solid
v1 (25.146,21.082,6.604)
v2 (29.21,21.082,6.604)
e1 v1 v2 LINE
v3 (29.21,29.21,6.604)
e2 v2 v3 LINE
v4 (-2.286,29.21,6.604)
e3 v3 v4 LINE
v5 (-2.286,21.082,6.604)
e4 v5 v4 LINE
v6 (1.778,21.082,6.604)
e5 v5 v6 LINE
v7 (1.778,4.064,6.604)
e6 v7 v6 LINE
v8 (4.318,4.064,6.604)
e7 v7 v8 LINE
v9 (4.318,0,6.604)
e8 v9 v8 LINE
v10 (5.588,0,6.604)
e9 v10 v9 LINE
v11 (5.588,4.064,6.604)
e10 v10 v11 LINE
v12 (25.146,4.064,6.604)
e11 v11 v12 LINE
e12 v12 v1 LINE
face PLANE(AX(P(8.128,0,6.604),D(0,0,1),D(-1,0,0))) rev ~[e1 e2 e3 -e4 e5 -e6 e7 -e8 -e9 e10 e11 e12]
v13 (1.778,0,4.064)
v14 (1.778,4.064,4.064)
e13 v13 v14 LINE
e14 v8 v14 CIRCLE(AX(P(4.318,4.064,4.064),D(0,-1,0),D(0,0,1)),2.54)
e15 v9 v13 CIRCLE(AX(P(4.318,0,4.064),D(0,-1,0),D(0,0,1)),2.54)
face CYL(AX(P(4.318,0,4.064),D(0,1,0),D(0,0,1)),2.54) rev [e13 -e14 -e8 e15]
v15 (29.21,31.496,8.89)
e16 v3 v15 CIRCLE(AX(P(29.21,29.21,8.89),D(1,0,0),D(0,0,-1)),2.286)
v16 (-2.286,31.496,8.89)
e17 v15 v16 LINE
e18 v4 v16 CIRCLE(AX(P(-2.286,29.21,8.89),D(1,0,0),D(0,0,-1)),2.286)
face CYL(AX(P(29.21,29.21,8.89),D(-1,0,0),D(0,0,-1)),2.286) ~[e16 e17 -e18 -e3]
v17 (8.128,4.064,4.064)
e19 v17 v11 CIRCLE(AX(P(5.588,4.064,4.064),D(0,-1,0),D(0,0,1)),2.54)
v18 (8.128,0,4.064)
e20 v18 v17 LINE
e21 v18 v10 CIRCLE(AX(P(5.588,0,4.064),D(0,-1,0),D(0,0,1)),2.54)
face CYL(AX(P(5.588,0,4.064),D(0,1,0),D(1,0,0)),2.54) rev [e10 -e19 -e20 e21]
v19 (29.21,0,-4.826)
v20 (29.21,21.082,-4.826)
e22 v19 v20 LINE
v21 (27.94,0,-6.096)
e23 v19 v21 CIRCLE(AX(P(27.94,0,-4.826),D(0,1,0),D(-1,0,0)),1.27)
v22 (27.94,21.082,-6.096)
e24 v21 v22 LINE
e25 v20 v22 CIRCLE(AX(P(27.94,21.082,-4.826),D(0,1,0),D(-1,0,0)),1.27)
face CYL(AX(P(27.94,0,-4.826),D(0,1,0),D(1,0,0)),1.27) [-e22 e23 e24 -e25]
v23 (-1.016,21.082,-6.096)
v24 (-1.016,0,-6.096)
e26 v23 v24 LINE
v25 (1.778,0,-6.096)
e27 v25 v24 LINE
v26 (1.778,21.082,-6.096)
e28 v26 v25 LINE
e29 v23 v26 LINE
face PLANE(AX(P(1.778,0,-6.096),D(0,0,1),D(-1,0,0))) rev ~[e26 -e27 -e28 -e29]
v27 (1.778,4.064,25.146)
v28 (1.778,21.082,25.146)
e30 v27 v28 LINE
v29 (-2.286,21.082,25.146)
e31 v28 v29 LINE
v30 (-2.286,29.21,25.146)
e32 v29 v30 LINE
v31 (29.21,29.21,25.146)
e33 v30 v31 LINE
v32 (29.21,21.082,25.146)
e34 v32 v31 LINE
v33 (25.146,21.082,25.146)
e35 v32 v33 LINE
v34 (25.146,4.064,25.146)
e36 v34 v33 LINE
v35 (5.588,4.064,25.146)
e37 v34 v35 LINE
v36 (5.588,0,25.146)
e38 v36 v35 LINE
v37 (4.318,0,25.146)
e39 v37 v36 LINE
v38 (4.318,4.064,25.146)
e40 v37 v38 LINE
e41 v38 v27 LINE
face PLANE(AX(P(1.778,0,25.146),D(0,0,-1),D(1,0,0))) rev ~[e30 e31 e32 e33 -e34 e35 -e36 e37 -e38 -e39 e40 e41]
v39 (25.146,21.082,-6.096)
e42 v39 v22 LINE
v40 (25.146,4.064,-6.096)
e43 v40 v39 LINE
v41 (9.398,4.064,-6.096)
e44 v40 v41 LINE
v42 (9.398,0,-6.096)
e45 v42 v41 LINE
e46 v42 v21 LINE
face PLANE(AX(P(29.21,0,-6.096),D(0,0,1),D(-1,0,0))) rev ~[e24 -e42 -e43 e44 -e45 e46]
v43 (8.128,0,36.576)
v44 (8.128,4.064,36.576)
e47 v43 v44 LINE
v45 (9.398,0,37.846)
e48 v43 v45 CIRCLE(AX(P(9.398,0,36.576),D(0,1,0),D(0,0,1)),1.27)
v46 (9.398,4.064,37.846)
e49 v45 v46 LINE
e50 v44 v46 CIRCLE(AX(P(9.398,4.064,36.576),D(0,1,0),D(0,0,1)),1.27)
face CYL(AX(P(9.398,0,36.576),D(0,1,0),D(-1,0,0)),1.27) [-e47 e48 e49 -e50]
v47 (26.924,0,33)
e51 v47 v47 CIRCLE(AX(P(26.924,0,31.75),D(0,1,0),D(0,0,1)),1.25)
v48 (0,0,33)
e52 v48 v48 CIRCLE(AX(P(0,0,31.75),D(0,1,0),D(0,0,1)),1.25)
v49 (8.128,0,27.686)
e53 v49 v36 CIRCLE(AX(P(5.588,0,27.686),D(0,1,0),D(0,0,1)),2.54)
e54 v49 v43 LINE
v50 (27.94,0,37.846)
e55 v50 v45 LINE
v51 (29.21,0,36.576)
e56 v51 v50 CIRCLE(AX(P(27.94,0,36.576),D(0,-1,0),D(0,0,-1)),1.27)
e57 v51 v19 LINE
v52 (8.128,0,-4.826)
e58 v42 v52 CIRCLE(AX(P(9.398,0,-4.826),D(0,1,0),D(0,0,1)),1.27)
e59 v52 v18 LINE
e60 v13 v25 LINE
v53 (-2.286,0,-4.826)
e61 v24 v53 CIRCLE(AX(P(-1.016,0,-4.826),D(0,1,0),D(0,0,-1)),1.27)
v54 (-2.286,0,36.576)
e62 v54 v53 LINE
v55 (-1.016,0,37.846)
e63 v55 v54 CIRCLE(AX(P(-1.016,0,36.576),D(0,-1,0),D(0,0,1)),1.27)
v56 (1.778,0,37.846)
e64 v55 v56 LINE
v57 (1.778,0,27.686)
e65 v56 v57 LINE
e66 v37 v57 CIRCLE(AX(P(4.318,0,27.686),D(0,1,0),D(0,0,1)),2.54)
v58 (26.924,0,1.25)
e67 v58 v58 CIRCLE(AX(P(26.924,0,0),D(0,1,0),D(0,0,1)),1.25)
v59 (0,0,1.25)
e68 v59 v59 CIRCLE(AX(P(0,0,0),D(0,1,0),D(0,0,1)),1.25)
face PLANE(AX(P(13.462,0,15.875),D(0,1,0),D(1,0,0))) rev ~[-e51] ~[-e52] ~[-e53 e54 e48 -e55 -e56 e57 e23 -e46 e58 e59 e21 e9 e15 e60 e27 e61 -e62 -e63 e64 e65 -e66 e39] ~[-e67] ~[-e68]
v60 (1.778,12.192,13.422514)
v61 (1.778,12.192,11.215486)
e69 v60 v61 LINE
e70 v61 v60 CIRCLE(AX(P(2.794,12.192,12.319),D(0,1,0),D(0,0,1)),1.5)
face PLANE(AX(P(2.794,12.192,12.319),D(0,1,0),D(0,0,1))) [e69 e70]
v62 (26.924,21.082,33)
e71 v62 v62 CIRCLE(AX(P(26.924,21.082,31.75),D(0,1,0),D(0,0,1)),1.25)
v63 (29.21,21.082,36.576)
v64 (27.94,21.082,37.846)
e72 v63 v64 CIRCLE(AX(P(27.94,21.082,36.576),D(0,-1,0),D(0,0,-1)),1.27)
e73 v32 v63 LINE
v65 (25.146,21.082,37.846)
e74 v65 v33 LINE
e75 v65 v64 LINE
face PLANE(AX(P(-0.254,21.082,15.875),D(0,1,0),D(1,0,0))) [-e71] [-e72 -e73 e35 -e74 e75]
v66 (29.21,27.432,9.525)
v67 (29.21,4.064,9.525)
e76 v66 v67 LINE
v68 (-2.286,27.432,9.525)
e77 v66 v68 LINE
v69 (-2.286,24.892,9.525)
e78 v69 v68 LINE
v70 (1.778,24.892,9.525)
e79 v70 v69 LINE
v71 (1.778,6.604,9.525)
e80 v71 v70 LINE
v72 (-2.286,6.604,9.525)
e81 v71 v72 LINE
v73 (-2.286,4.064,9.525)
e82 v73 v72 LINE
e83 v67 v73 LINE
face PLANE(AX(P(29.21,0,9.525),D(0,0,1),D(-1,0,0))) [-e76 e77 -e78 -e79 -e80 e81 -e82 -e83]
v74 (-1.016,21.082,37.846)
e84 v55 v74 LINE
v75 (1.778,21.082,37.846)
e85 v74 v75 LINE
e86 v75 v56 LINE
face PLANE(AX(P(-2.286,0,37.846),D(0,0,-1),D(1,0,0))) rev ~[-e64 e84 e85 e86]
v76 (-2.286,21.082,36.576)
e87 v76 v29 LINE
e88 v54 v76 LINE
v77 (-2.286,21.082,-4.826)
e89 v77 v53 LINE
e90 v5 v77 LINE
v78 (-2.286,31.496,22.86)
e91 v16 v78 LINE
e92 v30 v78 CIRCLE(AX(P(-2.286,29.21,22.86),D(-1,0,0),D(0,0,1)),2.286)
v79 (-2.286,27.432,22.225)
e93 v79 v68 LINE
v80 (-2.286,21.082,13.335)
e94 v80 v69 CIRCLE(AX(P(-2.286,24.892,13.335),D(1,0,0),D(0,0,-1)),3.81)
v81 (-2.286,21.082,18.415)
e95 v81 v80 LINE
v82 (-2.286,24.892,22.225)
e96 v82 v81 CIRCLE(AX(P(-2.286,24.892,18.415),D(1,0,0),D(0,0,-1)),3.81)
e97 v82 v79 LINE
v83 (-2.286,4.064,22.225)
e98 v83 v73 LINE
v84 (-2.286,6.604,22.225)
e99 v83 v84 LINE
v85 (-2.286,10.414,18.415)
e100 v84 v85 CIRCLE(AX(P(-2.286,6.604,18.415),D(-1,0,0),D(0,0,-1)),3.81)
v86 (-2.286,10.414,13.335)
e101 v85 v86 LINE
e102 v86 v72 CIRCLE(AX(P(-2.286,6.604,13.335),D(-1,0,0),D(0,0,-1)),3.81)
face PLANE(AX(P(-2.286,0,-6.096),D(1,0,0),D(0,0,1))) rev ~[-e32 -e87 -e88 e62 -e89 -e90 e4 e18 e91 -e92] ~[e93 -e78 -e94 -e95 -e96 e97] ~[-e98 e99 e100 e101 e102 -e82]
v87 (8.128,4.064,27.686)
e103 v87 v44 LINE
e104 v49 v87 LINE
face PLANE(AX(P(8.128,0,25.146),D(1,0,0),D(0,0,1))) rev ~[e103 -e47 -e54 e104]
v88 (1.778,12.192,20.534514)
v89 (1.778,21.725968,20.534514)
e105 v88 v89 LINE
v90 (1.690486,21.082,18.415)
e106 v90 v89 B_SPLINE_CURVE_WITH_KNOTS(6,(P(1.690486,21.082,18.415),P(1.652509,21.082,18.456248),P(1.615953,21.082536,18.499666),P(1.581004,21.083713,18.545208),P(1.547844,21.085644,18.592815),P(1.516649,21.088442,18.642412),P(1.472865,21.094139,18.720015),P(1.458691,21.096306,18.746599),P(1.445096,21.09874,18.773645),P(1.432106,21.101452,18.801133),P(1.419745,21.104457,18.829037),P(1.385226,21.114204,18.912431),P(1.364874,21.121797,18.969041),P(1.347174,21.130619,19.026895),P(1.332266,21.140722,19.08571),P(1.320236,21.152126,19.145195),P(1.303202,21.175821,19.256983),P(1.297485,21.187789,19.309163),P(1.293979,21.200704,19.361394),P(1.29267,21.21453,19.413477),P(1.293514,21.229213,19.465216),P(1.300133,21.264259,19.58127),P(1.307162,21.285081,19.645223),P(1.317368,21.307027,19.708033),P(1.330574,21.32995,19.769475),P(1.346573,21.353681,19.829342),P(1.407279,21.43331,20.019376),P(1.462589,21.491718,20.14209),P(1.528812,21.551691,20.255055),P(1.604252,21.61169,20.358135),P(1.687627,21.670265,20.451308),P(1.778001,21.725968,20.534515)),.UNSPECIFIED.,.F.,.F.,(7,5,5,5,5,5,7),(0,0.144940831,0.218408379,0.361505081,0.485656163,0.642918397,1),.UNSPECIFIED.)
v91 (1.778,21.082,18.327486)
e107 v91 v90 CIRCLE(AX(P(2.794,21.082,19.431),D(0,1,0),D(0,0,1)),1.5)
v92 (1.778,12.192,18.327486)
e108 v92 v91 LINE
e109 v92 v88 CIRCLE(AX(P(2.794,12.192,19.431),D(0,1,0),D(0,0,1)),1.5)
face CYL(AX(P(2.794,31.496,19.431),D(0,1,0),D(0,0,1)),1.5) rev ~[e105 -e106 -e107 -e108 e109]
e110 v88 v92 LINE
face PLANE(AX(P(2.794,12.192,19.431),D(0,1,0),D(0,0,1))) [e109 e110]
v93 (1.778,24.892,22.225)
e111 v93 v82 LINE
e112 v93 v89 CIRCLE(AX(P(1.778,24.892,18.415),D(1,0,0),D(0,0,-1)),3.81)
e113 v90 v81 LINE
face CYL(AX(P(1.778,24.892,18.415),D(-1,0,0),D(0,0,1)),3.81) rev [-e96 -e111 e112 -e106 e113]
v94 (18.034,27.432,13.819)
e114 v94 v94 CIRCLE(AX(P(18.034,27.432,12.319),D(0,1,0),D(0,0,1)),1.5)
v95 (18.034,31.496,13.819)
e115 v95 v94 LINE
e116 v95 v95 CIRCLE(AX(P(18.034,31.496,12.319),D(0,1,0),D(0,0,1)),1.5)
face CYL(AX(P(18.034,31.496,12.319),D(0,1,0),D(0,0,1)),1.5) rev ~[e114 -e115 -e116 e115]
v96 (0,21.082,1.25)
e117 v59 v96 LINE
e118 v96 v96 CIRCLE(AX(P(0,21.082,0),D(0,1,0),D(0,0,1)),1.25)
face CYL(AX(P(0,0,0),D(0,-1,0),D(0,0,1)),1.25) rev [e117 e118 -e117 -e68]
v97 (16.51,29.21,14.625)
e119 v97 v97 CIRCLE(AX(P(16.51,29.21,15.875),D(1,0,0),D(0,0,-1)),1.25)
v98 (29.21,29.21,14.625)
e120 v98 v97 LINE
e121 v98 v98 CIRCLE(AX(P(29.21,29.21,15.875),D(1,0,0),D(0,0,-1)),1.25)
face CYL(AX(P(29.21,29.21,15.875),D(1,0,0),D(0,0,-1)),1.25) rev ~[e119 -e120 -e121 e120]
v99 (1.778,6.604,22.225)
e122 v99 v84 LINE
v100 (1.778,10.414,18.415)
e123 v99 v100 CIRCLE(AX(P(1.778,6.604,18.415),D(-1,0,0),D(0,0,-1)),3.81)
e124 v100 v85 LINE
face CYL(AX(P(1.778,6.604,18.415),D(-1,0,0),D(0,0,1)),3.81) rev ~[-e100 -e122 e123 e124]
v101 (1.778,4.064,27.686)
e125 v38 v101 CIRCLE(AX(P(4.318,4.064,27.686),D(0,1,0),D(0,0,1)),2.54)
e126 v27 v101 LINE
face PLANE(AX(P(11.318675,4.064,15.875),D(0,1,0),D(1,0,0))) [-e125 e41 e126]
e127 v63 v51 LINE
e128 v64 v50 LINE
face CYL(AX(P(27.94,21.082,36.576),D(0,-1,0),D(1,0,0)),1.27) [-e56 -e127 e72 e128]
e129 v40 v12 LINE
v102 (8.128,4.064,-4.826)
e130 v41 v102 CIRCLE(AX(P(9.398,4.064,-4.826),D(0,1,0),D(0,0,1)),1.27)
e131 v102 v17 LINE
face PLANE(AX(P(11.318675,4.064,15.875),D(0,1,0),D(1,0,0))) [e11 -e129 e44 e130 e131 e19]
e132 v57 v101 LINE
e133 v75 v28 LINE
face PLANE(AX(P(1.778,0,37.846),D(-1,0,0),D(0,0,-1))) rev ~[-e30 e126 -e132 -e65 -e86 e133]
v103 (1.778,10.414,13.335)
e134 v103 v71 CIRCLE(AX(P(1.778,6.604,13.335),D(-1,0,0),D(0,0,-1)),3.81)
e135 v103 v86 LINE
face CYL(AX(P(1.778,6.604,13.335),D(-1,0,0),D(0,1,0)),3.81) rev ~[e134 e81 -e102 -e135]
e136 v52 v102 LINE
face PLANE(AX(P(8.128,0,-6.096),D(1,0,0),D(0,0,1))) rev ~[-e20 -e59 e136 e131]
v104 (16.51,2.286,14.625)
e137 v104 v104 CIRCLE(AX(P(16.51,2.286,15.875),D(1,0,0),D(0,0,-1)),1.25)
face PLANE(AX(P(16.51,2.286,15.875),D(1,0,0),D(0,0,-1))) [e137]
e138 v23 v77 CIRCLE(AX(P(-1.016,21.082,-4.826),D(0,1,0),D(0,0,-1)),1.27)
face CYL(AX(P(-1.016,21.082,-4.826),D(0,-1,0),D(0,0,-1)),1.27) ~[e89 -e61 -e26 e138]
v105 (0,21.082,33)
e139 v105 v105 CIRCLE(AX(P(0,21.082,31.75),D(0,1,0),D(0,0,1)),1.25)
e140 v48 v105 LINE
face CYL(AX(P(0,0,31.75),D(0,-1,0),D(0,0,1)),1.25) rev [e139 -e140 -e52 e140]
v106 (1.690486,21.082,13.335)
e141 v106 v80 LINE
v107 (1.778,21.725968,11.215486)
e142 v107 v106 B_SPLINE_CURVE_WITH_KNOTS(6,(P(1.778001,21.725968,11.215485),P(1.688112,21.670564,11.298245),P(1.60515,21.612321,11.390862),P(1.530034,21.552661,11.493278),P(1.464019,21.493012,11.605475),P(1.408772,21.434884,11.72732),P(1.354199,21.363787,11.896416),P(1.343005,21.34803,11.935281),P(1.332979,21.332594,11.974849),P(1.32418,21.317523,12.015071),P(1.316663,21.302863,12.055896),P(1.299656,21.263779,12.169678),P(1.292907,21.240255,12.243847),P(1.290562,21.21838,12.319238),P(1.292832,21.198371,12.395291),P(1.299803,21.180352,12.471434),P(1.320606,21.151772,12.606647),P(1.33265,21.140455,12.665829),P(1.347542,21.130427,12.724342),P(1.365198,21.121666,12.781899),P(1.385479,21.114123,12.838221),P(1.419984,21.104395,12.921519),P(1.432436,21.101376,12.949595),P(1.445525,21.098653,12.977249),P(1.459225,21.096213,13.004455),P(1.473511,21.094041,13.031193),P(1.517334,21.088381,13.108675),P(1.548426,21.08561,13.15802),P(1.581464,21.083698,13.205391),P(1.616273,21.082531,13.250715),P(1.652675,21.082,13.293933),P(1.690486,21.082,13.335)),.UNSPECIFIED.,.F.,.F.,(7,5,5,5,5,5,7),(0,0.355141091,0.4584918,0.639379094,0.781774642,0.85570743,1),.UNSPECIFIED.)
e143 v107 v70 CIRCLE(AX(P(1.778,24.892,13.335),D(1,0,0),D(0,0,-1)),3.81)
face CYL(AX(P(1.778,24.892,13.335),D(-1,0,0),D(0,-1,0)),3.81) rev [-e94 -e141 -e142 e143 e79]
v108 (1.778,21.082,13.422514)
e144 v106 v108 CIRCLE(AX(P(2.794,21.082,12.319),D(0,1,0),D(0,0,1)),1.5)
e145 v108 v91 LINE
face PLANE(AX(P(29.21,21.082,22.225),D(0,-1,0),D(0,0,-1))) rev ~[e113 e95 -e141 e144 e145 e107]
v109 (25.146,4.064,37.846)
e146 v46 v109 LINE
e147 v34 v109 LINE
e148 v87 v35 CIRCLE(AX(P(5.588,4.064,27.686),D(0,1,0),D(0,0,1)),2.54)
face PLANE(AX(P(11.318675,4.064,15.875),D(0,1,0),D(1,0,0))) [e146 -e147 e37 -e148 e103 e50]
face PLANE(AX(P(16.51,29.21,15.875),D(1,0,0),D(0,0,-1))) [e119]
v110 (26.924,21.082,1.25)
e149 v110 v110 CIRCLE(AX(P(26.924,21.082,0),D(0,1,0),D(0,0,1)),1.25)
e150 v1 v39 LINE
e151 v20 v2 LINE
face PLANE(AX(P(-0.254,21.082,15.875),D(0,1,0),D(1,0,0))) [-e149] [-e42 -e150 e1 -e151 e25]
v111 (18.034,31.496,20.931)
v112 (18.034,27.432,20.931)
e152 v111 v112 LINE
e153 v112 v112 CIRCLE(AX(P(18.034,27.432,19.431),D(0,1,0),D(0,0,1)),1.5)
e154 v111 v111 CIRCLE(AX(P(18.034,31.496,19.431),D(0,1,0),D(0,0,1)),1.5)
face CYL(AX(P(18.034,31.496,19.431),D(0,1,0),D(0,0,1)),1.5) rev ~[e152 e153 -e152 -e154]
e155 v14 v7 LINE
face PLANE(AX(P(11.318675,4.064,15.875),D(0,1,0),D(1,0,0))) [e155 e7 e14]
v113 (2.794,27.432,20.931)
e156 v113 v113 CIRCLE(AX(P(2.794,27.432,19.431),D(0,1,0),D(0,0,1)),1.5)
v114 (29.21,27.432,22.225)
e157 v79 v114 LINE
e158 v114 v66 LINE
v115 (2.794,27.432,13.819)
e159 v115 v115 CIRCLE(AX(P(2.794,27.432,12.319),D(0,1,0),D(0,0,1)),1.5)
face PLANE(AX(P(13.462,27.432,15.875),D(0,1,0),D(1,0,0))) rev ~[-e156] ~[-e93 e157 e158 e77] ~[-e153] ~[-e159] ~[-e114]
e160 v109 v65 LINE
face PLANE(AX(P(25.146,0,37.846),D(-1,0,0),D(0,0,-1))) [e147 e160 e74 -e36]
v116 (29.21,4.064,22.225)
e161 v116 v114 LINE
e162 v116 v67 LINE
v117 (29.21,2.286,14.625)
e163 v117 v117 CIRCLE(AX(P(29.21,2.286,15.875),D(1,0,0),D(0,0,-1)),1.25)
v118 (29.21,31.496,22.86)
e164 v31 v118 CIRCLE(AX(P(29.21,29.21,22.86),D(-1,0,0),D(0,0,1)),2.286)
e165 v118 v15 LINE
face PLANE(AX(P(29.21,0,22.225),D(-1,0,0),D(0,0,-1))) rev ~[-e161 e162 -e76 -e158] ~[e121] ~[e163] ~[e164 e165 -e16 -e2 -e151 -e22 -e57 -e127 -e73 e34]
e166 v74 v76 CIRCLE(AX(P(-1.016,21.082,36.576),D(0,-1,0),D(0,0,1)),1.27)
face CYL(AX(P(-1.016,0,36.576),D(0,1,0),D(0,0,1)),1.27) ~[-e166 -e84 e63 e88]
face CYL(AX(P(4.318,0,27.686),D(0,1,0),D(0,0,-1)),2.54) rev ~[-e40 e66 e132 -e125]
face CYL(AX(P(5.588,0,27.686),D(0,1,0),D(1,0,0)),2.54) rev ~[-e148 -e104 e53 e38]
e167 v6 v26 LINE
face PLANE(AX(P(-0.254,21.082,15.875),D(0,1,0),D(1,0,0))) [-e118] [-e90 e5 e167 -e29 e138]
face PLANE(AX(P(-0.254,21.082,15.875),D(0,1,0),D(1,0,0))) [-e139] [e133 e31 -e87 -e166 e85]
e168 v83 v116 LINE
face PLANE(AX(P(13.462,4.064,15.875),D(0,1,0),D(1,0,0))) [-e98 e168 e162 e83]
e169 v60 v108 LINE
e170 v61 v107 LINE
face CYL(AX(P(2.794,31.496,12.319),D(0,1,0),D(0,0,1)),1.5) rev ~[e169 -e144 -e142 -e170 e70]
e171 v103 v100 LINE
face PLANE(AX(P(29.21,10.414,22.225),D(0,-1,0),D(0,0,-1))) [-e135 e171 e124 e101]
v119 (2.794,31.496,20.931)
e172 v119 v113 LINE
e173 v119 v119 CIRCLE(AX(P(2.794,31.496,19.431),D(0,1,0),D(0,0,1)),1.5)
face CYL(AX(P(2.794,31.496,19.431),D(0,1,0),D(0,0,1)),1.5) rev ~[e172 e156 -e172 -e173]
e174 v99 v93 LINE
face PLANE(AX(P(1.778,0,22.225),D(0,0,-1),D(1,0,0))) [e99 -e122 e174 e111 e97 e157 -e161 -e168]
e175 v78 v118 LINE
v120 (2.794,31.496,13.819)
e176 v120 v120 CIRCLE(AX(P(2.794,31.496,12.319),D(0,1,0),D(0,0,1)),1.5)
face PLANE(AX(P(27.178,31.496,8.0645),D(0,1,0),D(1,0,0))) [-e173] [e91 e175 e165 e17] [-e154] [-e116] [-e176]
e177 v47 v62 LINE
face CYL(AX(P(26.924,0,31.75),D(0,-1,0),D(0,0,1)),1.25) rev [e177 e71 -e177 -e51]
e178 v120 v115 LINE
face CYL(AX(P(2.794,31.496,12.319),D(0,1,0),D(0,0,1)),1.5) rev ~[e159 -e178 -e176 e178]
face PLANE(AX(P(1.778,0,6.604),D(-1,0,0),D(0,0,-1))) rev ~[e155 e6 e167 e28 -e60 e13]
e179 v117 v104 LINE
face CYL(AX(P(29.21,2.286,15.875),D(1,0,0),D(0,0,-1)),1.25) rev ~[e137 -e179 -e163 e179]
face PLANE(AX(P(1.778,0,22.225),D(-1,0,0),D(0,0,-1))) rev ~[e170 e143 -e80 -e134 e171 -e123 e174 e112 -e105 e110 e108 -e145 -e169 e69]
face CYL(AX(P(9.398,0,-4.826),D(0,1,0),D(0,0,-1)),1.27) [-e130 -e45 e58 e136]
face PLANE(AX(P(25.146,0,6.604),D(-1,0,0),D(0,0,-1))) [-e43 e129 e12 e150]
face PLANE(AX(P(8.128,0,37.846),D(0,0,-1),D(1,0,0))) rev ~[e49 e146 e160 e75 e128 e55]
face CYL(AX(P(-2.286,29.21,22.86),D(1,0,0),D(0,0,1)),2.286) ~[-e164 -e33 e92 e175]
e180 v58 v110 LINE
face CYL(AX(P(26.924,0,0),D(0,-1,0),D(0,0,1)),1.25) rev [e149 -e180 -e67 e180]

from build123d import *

# Parameters (mm, degrees)
SKETCH1_R           = 1.25
BOSS_EXTRUDE1_DEPTH = 4.064
FILLET1_R           = 2.54
SKETCH1_5_W         = 4.064
SKETCH1_5_H         = 12.7
SKETCH1_5_R         = 1.25
SKETCH1_5_H_2       = 2.921
BOSS_EXTRUDE2_DEPTH = 21.082
SKETCH1_7_W         = 4.064
SKETCH1_7_H         = 2.921
SKETCH1_7_W_2       = 23.368
SKETCH1_7_H_2       = 12.7
BOSS_EXTRUDE3_DEPTH = 31.496
SKETCH1_9_W         = 23.368
SKETCH1_9_H         = 12.7
SKETCH1_9_W_2       = 4.064
CUT_EXTRUDE1_DEPTH  = 27.432
SKETCH1_10_W        = 23.368
SKETCH1_10_H        = 12.7
SKETCH1_10_W_2      = 4.064
BOSS_EXTRUDE4_DEPTH = 4.064
SKETCH2_R           = 1.25
CUT_EXTRUDE2_DEPTH  = 12.7
SKETCH2_3_W         = 12.7
SKETCH2_3_H         = 6.35
CUT_EXTRUDE3_DEPTH  = 40.132
FILLET2_R           = 3.81
FILLET3_R           = 1.27
SKETCH3_R           = 1.5
CUT_EXTRUDE4_DEPTH  = 19.304
FILLET4_R           = 2.286


with BuildPart() as part:
    # Sketch1 → Boss-Extrude1 (new body)
    with BuildSketch(Plane(origin=(0, 0, 0), x_dir=(1, 0, 0), z_dir=(0, 1, 0))):
        Polygon((29.21, 6.096), (8.128, 6.096), (8.128, -6.604), (1.778, -6.604), (1.778, 6.096), (-2.286, 6.096), (-2.286, -37.846), (1.778, -37.846), (1.778, -25.146), (8.128, -25.146), (8.128, -37.846), (29.21, -37.846), align=None)
        with Locations(Location((26.924, 0, 0), (0, 0, 270))):
            Circle(SKETCH1_R, mode=Mode.SUBTRACT)
        with Locations(Location((0, 0, 0), (0, 0, 270))):
            Circle(SKETCH1_R, mode=Mode.SUBTRACT)
        with Locations(Location((26.924, -31.75, 0), (0, 0, 270))):
            Circle(SKETCH1_R, mode=Mode.SUBTRACT)
        with Locations(Location((0, -31.75, 0), (0, 0, 270))):
            Circle(SKETCH1_R, mode=Mode.SUBTRACT)
    extrude(amount=BOSS_EXTRUDE1_DEPTH)

    # Fillet1
    fillet1_edges = [part.edges().sort_by_distance(p)[0] for p in [
        (8.128, 2.032, 25.146),
        (1.778, 2.032, 25.146),
        (1.778, 2.032, 6.604),
        (8.128, 2.032, 6.604),
    ]]
    fillet(fillet1_edges, radius=FILLET1_R)

    # Sketch1<5> → Boss-Extrude2 (add)
    # profile 1 of 9: a face of its own
    with BuildSketch(Plane(origin=(0, 0, 0), x_dir=(1, 0, 0), z_dir=(0, 1, 0))):
        Polygon((1.778, -22.225), (1.778, -9.525), (1.778, -6.604), (-2.286, -6.604), (-2.286, -25.146), (1.778, -25.146), align=None)
    # profile 2 of 9: a face of its own
    with BuildSketch(Plane(origin=(0, 0, 0), x_dir=(1, 0, 0), z_dir=(0, 1, 0))):
        with Locations((-0.254, -31.496)):
            Rectangle(SKETCH1_5_W, SKETCH1_5_H)
        with Locations(Location((0, -31.75, 0), (0, 0, 270))):
            Circle(SKETCH1_5_R, mode=Mode.SUBTRACT)
    # profile 3 of 9: a face of its own
    with BuildSketch(Plane(origin=(0, 0, 0), x_dir=(1, 0, 0), z_dir=(0, 1, 0))):
        with Locations((-0.254, -0.254)):
            Rectangle(SKETCH1_5_W, SKETCH1_5_H)
        with Locations(Location((0, 0, 0), (0, 0, 270))):
            Circle(SKETCH1_5_R, mode=Mode.SUBTRACT)
    # profile 4 of 9: a face of its own
    with BuildSketch(Plane(origin=(0, 0, 0), x_dir=(1, 0, 0), z_dir=(0, 1, 0))):
        Polygon((25.146, -25.146), (25.146, -22.225), (1.778, -22.225), (1.778, -25.146), (8.128, -25.146), align=None)
    # profile 5 of 9: a face of its own
    with BuildSketch(Plane(origin=(0, 0, 0), x_dir=(1, 0, 0), z_dir=(0, 1, 0))):
        Polygon((25.146, -9.525), (25.146, -6.604), (8.128, -6.604), (1.778, -6.604), (1.778, -9.525), align=None)
    # profile 6 of 9: a face of its own
    with BuildSketch(Plane(origin=(0, 0, 0), x_dir=(1, 0, 0), z_dir=(0, 1, 0))):
        with Locations((27.178, -8.0645)):
            Rectangle(SKETCH1_5_W, SKETCH1_5_H_2)
    # profile 7 of 9: a face of its own
    with BuildSketch(Plane(origin=(0, 0, 0), x_dir=(1, 0, 0), z_dir=(0, 1, 0))):
        with Locations((27.178, -23.6855)):
            Rectangle(SKETCH1_5_W, SKETCH1_5_H_2)
    # profile 8 of 9: a face of its own
    with BuildSketch(Plane(origin=(0, 0, 0), x_dir=(1, 0, 0), z_dir=(0, 1, 0))):
        with Locations((27.178, -31.496)):
            Rectangle(SKETCH1_5_W, SKETCH1_5_H)
        with Locations(Location((26.924, -31.75, 0), (0, 0, 270))):
            Circle(SKETCH1_5_R, mode=Mode.SUBTRACT)
    # profile 9 of 9: a face of its own
    with BuildSketch(Plane(origin=(0, 0, 0), x_dir=(1, 0, 0), z_dir=(0, 1, 0))):
        with Locations((27.178, -0.254)):
            Rectangle(SKETCH1_5_W, SKETCH1_5_H)
        with Locations(Location((26.924, 0, 0), (0, 0, 270))):
            Circle(SKETCH1_5_R, mode=Mode.SUBTRACT)
    extrude(amount=BOSS_EXTRUDE2_DEPTH)

    # Sketch1<7> → Boss-Extrude3 (add)
    with BuildSketch(Plane(origin=(0, 0, 0), x_dir=(1, 0, 0), z_dir=(0, 1, 0))):
        with Locations((27.178, -8.0645)):
            Rectangle(SKETCH1_7_W, SKETCH1_7_H)
        Polygon((25.146, -9.525), (25.146, -6.604), (8.128, -6.604), (1.778, -6.604), (1.778, -9.525), align=None)
        with Locations((27.178, -23.6855)):
            Rectangle(SKETCH1_7_W, SKETCH1_7_H)
        with Locations((13.462, -15.875)):
            Rectangle(SKETCH1_7_W_2, SKETCH1_7_H_2)
        with Locations((27.178, -15.875)):
            Rectangle(SKETCH1_7_W, SKETCH1_7_H_2)
        Polygon((25.146, -25.146), (25.146, -22.225), (1.778, -22.225), (1.778, -25.146), (8.128, -25.146), align=None)
        Polygon((1.778, -22.225), (1.778, -9.525), (1.778, -6.604), (-2.286, -6.604), (-2.286, -25.146), (1.778, -25.146), align=None)
    extrude(amount=BOSS_EXTRUDE3_DEPTH)

    # Sketch1<9> → Cut-Extrude1 (cut)
    with BuildSketch(Plane(origin=(0, 0, 0), x_dir=(1, 0, 0), z_dir=(0, 1, 0))):
        with Locations((13.462, -15.875)):
            Rectangle(SKETCH1_9_W, SKETCH1_9_H)
        with Locations((27.178, -15.875)):
            Rectangle(SKETCH1_9_W_2, SKETCH1_9_H)
    extrude(amount=CUT_EXTRUDE1_DEPTH, mode=Mode.SUBTRACT)

    # Sketch1<10> → Boss-Extrude4 (add)
    with BuildSketch(Plane(origin=(0, 0, 0), x_dir=(1, 0, 0), z_dir=(0, 1, 0))):
        with Locations((13.462, -15.875)):
            Rectangle(SKETCH1_10_W, SKETCH1_10_H)
        with Locations((27.178, -15.875)):
            Rectangle(SKETCH1_10_W_2, SKETCH1_10_H)
    extrude(amount=BOSS_EXTRUDE4_DEPTH)

    # Sketch2 → Cut-Extrude2 (cut)
    with BuildSketch(Plane(origin=(29.21, 0, 0), x_dir=(0, 0, -1), z_dir=(1, 0, 0))):
        with Locations((-15.875, 29.21)):
            Circle(SKETCH2_R)
        with Locations((-15.875, 2.286)):
            Circle(SKETCH2_R)
    extrude(amount=-CUT_EXTRUDE2_DEPTH, mode=Mode.SUBTRACT)

    # Sketch2<3> → Cut-Extrude3 (cut)
    with BuildSketch(Plane(origin=(29.21, 0, 0), x_dir=(0, 0, -1), z_dir=(1, 0, 0))):
        with Locations((-15.875, 24.257)):
            Rectangle(SKETCH2_3_W, SKETCH2_3_H)
        with Locations((-15.875, 7.239)):
            Rectangle(SKETCH2_3_W, SKETCH2_3_H)
    extrude(amount=-CUT_EXTRUDE3_DEPTH, mode=Mode.SUBTRACT)

    # Fillet2
    fillet2_edges = [part.edges().sort_by_distance(p)[0] for p in [
        (-0.254, 21.082, 9.525),
        (-0.254, 21.082, 22.225),
        (-0.254, 10.414, 22.225),
        (-0.254, 10.414, 9.525),
    ]]
    fillet(fillet2_edges, radius=FILLET2_R)

    # Fillet3
    fillet3_edges = [part.edges().sort_by_distance(p)[0] for p in [
        (29.21, 10.541, 37.846),
        (8.128, 2.032, 37.846),
        (-2.286, 10.541, 37.846),
        (-2.286, 10.541, -6.096),
        (8.128, 2.032, -6.096),
        (29.21, 10.541, -6.096),
    ]]
    fillet(fillet3_edges, radius=FILLET3_R)

    # Sketch3 → Cut-Extrude4 (cut)
    with BuildSketch(Plane(origin=(0, 31.496, 0), x_dir=(1, 0, 0), z_dir=(0, 1, 0))):
        with Locations(Location((2.794, -12.319, 0), (0, 0, 270))):
            Circle(SKETCH3_R)
        with Locations(Location((18.034, -12.319, 0), (0, 0, 270))):
            Circle(SKETCH3_R)
        with Locations(Location((2.794, -19.431, 0), (0, 0, 270))):
            Circle(SKETCH3_R)
        with Locations(Location((18.034, -19.431, 0), (0, 0, 270))):
            Circle(SKETCH3_R)
    extrude(amount=-CUT_EXTRUDE4_DEPTH, mode=Mode.SUBTRACT)

    # Fillet4
    fillet4_edges = [part.edges().sort_by_distance(p)[0] for p in [
        (13.462, 31.496, 6.604),
        (13.462, 31.496, 25.146),
    ]]
    fillet(fillet4_edges, radius=FILLET4_R)


solid = part.part
